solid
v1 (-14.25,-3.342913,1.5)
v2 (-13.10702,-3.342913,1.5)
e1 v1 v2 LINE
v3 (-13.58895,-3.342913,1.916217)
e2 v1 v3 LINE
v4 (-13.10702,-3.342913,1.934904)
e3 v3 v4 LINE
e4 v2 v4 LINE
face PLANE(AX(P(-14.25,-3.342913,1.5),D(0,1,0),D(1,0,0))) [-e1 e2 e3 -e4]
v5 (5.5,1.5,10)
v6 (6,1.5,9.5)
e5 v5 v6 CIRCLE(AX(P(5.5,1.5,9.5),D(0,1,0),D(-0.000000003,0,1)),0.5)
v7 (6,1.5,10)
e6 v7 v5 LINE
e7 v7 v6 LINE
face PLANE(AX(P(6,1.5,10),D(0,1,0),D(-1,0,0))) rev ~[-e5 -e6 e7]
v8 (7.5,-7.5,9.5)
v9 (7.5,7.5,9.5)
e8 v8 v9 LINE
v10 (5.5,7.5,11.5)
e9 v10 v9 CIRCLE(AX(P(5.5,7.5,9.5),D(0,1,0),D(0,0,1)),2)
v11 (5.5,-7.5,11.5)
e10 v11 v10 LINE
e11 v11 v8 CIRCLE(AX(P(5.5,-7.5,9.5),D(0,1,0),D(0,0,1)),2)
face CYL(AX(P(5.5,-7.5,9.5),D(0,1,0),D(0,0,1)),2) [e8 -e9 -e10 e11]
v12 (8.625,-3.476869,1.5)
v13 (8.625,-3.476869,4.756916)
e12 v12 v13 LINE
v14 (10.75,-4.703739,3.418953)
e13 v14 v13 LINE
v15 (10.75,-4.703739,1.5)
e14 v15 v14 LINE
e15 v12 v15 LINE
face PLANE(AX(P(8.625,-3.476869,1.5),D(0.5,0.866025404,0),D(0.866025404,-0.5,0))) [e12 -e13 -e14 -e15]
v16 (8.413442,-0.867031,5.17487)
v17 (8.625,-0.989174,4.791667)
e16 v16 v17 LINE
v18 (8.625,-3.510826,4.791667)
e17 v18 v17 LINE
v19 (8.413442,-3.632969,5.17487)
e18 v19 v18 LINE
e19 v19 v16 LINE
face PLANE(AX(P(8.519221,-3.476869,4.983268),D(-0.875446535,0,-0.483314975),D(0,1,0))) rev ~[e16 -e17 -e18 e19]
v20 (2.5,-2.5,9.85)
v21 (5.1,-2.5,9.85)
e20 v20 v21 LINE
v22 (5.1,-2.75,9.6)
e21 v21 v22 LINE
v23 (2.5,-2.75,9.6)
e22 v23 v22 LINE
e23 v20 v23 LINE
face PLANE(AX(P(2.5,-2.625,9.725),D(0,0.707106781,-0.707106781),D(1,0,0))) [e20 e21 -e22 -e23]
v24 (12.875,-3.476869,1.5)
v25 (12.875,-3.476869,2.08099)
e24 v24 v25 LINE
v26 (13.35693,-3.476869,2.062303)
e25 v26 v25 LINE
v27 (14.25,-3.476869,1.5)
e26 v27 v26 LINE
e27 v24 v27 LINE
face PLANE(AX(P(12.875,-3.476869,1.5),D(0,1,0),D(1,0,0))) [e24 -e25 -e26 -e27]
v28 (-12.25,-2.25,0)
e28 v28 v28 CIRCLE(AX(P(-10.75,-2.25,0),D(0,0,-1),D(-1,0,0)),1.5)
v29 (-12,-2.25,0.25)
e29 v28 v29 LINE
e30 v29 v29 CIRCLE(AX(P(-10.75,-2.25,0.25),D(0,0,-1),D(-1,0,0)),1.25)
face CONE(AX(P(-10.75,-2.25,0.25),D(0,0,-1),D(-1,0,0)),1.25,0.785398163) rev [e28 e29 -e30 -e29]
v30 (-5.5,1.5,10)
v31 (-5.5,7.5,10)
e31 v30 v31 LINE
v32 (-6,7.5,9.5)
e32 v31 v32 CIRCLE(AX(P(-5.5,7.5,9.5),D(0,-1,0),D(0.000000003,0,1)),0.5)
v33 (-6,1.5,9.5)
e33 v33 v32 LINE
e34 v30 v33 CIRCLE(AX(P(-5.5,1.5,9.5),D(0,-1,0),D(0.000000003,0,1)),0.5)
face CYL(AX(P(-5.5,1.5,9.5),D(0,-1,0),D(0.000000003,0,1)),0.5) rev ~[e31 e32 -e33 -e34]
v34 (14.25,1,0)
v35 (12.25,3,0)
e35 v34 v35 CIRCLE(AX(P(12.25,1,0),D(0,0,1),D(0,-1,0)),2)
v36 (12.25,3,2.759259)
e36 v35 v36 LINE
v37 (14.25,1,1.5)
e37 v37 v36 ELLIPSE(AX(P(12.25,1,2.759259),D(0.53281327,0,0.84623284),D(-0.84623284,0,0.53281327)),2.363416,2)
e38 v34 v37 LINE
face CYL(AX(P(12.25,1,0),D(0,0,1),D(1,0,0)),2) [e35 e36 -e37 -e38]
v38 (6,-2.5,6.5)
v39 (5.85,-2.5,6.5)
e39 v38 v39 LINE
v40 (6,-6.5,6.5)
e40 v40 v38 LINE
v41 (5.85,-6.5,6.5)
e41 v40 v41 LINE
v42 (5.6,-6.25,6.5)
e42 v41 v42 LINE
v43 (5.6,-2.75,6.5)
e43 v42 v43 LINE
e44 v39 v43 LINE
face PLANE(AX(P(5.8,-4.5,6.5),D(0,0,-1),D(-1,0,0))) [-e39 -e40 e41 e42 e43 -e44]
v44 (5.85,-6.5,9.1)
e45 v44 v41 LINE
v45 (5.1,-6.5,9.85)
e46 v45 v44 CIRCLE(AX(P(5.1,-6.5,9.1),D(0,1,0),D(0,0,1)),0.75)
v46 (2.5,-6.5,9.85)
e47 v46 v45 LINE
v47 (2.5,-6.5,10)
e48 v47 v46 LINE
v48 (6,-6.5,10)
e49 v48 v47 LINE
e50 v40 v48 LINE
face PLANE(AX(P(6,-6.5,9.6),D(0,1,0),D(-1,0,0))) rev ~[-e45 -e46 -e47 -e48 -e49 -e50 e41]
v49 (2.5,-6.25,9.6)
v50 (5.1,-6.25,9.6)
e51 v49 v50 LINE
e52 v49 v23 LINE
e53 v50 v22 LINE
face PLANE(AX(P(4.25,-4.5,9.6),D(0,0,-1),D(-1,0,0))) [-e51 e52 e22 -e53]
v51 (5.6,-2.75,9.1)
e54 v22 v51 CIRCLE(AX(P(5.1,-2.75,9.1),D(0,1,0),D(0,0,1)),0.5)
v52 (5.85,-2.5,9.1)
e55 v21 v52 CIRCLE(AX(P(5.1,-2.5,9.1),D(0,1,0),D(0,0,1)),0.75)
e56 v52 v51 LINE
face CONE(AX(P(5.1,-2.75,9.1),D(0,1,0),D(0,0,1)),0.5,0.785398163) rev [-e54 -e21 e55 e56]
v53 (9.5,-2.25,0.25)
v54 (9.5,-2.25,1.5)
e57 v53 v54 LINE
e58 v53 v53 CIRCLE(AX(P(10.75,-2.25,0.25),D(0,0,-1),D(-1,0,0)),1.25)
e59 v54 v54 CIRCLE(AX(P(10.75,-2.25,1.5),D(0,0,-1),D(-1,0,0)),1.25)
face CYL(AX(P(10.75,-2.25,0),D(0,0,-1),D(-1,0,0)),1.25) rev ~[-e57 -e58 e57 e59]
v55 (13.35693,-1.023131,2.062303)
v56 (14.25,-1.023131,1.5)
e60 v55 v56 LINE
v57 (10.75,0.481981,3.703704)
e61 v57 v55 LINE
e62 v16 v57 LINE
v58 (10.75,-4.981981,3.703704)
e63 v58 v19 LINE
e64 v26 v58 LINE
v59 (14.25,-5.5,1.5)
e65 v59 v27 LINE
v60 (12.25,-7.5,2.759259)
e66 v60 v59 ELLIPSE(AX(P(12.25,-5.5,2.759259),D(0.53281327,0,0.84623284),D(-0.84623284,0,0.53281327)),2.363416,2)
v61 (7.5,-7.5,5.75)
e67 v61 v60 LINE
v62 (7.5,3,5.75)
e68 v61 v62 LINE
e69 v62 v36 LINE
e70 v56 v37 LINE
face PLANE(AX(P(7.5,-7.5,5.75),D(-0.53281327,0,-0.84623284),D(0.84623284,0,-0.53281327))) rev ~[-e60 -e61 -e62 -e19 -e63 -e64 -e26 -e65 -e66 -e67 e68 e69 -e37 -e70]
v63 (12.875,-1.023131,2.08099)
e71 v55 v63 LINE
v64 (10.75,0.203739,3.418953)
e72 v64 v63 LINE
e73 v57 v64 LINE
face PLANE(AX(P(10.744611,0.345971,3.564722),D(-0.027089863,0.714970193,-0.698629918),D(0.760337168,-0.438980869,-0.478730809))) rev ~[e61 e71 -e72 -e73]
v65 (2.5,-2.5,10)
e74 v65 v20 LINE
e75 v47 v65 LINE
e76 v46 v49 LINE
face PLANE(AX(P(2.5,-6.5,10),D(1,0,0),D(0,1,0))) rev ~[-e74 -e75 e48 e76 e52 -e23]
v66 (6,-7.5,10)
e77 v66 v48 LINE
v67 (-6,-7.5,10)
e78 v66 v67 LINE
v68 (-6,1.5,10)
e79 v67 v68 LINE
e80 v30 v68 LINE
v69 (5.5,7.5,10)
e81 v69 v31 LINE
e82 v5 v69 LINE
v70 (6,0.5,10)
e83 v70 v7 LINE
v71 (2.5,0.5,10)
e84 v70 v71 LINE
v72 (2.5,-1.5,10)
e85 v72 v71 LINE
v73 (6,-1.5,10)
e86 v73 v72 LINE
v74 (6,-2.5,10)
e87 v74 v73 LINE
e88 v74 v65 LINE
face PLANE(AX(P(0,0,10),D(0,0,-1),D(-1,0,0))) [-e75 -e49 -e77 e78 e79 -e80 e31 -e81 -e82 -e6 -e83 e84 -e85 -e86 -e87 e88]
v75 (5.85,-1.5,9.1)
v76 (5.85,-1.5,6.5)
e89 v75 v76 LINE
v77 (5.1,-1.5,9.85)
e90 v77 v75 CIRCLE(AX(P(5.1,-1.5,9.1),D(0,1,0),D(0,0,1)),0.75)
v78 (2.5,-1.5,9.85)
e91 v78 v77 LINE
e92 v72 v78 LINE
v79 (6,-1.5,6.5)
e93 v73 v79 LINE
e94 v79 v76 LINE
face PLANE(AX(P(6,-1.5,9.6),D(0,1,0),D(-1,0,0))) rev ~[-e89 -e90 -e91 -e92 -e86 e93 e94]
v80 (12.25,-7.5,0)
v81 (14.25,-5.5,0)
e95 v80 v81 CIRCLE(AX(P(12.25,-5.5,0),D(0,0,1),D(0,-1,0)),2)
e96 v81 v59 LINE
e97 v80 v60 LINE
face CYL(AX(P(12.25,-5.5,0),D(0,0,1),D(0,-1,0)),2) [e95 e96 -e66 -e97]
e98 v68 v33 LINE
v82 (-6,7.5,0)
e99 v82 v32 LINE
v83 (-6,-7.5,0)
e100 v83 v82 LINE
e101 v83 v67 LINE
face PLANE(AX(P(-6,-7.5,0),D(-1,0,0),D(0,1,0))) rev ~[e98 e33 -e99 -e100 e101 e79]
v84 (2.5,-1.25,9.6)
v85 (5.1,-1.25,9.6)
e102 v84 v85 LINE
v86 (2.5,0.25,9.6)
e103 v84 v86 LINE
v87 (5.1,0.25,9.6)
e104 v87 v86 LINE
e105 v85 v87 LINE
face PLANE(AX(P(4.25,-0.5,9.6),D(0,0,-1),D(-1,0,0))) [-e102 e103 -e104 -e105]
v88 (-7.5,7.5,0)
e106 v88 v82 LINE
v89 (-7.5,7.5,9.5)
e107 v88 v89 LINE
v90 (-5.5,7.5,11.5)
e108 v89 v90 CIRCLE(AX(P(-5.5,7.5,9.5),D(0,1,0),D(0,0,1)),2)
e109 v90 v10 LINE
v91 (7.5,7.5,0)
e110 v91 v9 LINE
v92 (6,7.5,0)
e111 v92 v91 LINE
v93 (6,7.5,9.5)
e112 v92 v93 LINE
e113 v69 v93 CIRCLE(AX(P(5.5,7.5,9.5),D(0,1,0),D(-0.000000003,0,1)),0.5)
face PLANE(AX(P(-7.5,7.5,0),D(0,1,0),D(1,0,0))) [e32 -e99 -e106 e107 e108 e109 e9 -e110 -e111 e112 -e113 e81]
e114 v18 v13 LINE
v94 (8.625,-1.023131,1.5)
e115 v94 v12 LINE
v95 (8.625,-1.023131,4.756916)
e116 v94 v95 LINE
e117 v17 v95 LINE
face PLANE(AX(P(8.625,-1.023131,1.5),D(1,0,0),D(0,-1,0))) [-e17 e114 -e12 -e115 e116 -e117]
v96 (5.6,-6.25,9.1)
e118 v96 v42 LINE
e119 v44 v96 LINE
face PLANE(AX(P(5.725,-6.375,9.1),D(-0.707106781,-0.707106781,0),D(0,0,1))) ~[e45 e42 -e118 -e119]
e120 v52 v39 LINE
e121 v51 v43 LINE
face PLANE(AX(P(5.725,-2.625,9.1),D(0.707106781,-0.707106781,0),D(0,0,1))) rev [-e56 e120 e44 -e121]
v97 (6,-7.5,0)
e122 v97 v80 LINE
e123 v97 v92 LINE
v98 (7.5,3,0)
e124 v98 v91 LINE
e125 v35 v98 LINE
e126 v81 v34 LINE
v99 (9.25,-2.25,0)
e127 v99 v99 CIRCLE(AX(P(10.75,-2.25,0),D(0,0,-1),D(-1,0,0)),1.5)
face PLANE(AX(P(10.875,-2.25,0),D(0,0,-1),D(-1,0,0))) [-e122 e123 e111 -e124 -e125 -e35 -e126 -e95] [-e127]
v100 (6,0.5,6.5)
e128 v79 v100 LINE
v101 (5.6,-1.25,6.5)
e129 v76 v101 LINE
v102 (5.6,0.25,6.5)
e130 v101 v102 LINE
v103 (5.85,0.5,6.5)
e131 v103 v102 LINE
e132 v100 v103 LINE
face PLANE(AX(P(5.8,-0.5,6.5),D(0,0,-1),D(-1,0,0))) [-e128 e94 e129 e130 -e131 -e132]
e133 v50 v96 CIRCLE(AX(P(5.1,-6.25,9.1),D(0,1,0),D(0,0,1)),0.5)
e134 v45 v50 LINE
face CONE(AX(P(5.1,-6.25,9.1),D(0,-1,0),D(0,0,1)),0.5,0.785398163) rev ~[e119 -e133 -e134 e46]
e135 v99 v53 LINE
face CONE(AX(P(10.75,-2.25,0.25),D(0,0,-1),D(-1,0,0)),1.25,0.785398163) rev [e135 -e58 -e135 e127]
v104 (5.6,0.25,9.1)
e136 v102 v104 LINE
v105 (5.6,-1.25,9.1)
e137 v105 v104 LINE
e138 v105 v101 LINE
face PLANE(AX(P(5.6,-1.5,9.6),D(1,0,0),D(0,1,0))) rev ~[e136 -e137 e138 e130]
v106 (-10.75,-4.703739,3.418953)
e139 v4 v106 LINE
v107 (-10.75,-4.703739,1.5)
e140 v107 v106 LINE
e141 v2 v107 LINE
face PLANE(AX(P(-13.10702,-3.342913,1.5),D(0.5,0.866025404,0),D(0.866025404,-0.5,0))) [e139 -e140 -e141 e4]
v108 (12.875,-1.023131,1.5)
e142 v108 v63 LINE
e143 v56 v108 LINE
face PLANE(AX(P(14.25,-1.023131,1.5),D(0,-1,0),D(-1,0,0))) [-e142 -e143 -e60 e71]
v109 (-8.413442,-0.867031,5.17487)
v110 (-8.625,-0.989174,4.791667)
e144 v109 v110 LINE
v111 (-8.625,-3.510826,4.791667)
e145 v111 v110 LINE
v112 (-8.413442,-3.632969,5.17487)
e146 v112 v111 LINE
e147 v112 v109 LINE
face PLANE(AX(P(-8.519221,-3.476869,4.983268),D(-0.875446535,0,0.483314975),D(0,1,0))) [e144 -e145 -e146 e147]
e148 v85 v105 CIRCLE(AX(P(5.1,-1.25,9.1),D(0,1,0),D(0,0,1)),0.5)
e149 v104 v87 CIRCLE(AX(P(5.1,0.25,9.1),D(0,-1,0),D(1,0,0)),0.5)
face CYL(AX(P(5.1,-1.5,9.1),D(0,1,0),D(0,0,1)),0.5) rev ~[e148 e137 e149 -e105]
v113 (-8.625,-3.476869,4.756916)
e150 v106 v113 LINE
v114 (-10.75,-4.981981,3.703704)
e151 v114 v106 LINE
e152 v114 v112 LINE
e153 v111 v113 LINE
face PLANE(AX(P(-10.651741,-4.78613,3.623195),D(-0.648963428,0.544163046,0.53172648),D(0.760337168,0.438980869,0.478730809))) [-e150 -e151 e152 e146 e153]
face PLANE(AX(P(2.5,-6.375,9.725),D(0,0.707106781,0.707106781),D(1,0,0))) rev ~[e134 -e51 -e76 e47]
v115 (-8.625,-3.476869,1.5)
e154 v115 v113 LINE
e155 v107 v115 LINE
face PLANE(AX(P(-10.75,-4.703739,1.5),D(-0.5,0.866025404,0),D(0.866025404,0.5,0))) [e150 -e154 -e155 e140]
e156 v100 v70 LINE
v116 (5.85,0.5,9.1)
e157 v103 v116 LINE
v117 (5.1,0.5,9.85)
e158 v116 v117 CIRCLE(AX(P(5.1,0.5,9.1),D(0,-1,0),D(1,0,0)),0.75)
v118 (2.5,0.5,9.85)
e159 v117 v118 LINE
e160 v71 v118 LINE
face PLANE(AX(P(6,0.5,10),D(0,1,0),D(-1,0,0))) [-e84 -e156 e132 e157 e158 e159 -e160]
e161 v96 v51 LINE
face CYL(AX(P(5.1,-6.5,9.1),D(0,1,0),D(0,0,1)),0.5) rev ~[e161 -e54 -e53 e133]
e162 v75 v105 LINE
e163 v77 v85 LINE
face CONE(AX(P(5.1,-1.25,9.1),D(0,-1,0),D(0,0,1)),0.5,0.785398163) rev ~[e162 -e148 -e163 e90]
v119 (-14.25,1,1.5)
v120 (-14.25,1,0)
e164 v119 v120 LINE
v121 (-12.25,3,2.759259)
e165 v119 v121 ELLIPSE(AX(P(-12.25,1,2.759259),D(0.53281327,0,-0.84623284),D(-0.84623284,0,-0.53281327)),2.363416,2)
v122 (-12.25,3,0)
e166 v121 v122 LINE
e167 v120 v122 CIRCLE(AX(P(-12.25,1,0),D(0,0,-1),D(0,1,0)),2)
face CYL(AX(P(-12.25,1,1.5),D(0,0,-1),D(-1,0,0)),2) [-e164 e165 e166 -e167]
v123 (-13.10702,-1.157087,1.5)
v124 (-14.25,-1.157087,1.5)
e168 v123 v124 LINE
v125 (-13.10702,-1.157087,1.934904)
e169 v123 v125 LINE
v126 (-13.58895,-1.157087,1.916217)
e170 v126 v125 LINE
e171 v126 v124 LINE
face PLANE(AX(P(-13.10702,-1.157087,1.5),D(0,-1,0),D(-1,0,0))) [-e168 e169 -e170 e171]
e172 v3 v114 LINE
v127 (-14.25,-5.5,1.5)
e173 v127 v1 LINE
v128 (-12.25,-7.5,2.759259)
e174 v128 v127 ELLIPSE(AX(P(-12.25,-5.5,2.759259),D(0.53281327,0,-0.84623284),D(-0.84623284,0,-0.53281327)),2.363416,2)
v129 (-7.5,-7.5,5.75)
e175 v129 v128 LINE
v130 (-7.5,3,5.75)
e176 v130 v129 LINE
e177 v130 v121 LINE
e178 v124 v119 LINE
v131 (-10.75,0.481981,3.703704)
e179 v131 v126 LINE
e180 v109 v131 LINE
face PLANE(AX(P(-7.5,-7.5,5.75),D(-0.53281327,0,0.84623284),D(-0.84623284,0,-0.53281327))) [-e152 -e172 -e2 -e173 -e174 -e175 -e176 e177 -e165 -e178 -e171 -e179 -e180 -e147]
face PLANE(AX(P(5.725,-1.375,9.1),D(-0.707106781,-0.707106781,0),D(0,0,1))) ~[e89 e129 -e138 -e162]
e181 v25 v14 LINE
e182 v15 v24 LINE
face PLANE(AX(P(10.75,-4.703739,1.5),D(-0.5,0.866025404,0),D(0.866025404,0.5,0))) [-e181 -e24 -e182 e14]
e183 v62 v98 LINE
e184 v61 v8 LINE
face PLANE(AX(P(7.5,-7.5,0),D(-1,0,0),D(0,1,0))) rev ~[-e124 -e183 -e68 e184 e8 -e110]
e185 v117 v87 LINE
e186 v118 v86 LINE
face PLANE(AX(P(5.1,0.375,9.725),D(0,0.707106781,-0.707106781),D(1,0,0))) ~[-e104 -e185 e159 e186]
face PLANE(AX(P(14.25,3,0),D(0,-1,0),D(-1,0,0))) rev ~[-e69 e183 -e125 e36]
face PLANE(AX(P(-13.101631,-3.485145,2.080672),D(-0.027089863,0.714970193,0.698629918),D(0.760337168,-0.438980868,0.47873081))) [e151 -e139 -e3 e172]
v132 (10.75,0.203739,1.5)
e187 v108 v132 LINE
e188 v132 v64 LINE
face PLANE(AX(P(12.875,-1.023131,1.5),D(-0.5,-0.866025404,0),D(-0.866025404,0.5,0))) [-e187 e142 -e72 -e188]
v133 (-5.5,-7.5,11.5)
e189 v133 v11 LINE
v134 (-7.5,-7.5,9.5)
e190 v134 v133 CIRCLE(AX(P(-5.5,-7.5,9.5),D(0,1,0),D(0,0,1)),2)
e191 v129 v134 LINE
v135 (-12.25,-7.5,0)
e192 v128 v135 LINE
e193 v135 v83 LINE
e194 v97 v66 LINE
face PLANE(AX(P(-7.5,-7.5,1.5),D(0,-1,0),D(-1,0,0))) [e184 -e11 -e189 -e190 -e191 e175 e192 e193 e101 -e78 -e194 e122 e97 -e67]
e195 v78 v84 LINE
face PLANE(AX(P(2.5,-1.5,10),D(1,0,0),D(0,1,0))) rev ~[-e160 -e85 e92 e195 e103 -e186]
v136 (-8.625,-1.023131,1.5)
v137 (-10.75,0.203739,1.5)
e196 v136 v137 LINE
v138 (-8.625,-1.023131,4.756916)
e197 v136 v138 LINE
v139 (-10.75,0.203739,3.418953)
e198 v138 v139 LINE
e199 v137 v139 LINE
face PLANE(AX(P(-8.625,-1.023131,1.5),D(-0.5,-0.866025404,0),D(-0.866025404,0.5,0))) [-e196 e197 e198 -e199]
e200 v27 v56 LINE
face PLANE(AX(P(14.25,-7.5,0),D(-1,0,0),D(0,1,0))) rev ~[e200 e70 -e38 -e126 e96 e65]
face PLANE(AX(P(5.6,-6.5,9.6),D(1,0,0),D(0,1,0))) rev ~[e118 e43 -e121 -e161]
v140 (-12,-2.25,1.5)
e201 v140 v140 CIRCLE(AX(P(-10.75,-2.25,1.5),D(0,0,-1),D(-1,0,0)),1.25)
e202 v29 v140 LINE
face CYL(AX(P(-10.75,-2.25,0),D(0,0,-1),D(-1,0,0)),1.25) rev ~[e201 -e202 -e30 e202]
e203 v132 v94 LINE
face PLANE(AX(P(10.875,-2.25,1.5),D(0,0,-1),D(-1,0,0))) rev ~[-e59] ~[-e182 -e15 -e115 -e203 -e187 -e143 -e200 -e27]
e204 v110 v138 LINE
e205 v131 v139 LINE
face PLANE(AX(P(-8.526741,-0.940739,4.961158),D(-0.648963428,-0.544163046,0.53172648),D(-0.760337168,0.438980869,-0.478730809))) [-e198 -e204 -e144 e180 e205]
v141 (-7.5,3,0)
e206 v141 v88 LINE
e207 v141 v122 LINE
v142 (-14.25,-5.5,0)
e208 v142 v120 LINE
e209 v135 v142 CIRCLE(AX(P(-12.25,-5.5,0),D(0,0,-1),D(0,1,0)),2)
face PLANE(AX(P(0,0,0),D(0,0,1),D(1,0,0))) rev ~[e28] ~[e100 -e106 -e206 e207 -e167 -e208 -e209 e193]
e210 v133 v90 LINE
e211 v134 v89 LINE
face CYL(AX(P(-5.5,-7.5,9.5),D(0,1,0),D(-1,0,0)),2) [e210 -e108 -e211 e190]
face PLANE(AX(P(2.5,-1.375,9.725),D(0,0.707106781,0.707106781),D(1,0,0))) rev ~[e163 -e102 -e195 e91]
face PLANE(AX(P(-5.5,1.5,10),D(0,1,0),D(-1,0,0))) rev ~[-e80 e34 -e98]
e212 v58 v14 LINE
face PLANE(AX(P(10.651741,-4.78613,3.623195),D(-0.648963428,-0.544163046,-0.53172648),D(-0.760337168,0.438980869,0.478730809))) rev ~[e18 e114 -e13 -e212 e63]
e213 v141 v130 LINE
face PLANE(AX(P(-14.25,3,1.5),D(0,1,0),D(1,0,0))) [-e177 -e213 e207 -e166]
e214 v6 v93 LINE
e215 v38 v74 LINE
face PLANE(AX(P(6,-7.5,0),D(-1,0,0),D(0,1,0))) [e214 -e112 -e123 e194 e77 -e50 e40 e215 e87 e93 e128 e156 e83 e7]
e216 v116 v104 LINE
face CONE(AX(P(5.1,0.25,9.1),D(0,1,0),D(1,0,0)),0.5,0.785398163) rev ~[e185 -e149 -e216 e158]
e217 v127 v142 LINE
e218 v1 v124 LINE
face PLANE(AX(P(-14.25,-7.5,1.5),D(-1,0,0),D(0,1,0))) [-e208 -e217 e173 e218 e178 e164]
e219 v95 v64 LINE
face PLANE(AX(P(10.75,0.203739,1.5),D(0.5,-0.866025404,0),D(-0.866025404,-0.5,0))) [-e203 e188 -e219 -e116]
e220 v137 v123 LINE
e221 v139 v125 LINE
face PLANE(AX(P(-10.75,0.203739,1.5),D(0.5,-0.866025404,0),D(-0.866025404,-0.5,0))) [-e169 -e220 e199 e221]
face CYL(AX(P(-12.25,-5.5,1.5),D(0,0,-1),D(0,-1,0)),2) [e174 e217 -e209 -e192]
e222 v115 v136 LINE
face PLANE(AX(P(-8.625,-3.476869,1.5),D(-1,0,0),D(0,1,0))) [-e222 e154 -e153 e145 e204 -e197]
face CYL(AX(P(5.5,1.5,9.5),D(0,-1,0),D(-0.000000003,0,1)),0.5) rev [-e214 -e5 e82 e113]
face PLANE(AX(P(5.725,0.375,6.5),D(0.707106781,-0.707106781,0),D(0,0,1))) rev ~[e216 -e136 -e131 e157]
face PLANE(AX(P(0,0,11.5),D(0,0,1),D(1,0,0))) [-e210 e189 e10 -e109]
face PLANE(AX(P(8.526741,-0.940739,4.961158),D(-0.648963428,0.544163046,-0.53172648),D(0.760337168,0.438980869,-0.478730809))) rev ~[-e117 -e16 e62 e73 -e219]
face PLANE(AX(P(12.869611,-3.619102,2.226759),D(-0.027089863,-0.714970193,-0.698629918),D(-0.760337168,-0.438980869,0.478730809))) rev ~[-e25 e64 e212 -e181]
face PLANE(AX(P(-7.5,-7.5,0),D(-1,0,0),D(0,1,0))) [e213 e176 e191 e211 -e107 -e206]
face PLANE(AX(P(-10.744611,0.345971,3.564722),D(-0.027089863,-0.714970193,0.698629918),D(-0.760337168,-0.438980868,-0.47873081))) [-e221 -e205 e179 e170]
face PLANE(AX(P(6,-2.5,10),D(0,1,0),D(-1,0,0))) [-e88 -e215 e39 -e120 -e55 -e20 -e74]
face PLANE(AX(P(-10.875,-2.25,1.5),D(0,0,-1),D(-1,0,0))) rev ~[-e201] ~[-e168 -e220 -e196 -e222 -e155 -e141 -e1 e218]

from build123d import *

# Parameters (mm, degrees)
ESQUISSE1_W             = 15
ESQUISSE1_H             = 15
BOSS_EXTRU_1_DEPTH      = 11.5
ESQUISSE2_W             = 12
ESQUISSE2_H             = 15
ENL_V_MAT_EXTRU_1_DEPTH = 10
CONG_1_R                = 2
ESQUISSE3_W             = 0.5
ESQUISSE3_H             = 6
BOSS_EXTRU_2_DEPTH      = 0.5
ENL_V_MAT_EXTRU_2_DEPTH = 6
ESQUISSE5_W             = 3.5
ESQUISSE5_H             = 4
ESQUISSE5_H_2           = 2
BOSS_EXTRU_3_DEPTH      = 0.4
ESQUISSE6_W             = 0.4
ESQUISSE6_H             = 4
ESQUISSE6_H_2           = 2
BOSS_EXTRU_4_DEPTH      = 3.1
CONG_3_R                = 0.5
ESQUISSE7_W             = 6.75
ESQUISSE7_H             = 10.5
BOSS_EXTRU_5_DEPTH      = 1.5
ESQUISSE12_R            = 1.25
ENL_V_MAT_EXTRU_6_DEPTH = 1.5
BOSS_EXTRU_6_DEPTH      = 4.25
ENL_V_MAT_EXTRU_7_DEPTH = 10.5
CONG_5_R                = 2
CHANFREIN2_SIZE         = 0.25
CHANFREIN3_SIZE         = 0.25
CHANFREIN4_SIZE         = 0.25


with BuildPart() as part:
    # Esquisse1 → Boss.-Extru.1 (new body)
    with BuildSketch(Plane.XY):
        Rectangle(ESQUISSE1_W, ESQUISSE1_H)
    extrude(amount=BOSS_EXTRU_1_DEPTH)

    # Esquisse2 → Enlèv. mat.-Extru.1 (cut)
    with BuildSketch(Plane(origin=(0, 0, 0), x_dir=(-1, 0, 0), z_dir=(0, 0, -1))):
        Rectangle(ESQUISSE2_W, ESQUISSE2_H)
    extrude(amount=-ENL_V_MAT_EXTRU_1_DEPTH, mode=Mode.SUBTRACT)

    # Congé1
    cong_1_edges = [part.edges().sort_by_distance(p)[0] for p in [
        (-7.5, 0, 11.5),
        (7.5, 0, 11.5),
    ]]
    fillet(cong_1_edges, radius=CONG_1_R)

    # Esquisse3 → Boss.-Extru.2 (add)
    with BuildSketch(Plane(origin=(0, 0, 10), x_dir=(-1, 0, 0), z_dir=(0, 0, -1))):
        with Locations((-5.75, 4.5)):
            Rectangle(ESQUISSE3_W, ESQUISSE3_H)
        with Locations((5.75, 4.5)):
            Rectangle(ESQUISSE3_W, ESQUISSE3_H)
    extrude(amount=BOSS_EXTRU_2_DEPTH)

    # Esquisse4 → Enlèv. mat.-Extru.2 (cut)
    with BuildSketch(Plane.XZ.offset(-1.5)):
        with BuildLine():
            Line((-6, 9.5), (-5.5, 9.5))
            Line((-5.5, 9.5), (-5.5, 10))
            ThreePointArc((-5.5, 10), (-5.853553391, 9.853553391), (-6, 9.5))
        make_face()
        with BuildLine():
            Line((6, 9.5), (5.5, 9.5))
            Line((5.5, 9.5), (5.5, 10))
            ThreePointArc((5.5, 10), (5.853553391, 9.853553391), (6, 9.5))
        make_face()
    extrude(amount=-ENL_V_MAT_EXTRU_2_DEPTH, mode=Mode.SUBTRACT)

    # Esquisse5 → Boss.-Extru.3 (add)
    with BuildSketch(Plane(origin=(0, 0, 10), x_dir=(-1, 0, 0), z_dir=(0, 0, -1))):
        with Locations((-4.25, -4.5)):
            Rectangle(ESQUISSE5_W, ESQUISSE5_H)
        with Locations((-4.25, -0.5)):
            Rectangle(ESQUISSE5_W, ESQUISSE5_H_2)
    extrude(amount=BOSS_EXTRU_3_DEPTH)

    # Esquisse6 → Boss.-Extru.4 (add)
    with BuildSketch(Plane(origin=(0, 0, 9.6), x_dir=(-1, 0, 0), z_dir=(0, 0, -1))):
        with Locations((-5.8, -4.5)):
            Rectangle(ESQUISSE6_W, ESQUISSE6_H)
        with Locations((-5.8, -0.5)):
            Rectangle(ESQUISSE6_W, ESQUISSE6_H_2)
    extrude(amount=BOSS_EXTRU_4_DEPTH)

    # Congé3
    cong_3_edges = [part.edges().sort_by_distance(p)[0] for p in [
        (5.6, -4.5, 9.6),
        (5.6, -0.5, 9.6),
    ]]
    fillet(cong_3_edges, radius=CONG_3_R)

    # Esquisse7 → Boss.-Extru.5 (add)
    with BuildSketch(Plane(origin=(0, 0, 0), x_dir=(-1, 0, 0), z_dir=(0, 0, -1))):
        with Locations((-10.875, -2.25)):
            Rectangle(ESQUISSE7_W, ESQUISSE7_H)
        with Locations((10.875, -2.25)):
            Rectangle(ESQUISSE7_W, ESQUISSE7_H)
    extrude(amount=-BOSS_EXTRU_5_DEPTH)

    # Esquisse12 → Enlèv. mat.-Extru.6 (cut)
    with BuildSketch(Plane(origin=(0, 0, 0), x_dir=(-1, 0, 0), z_dir=(0, 0, -1))):
        with Locations((10.75, -2.25)):
            Circle(ESQUISSE12_R)
        with Locations((-10.75, -2.25)):
            Circle(ESQUISSE12_R)
    extrude(amount=-ENL_V_MAT_EXTRU_6_DEPTH, mode=Mode.SUBTRACT)

    # Esquisse13 → Boss.-Extru.6 (add)
    with BuildSketch(Plane.XY.offset(1.5)):
        Polygon((-7.5, 3), (-7.5, -7.5), (-14.25, -7.5), (-14.25, -3.342912687), (-13.107019699, -3.342912687), (-10.75, -4.703738644), (-8.625, -3.476869322), (-8.625, -1.023130678), (-10.75, 0.203738644), (-13.107019699, -1.157087313), (-14.25, -1.157087313), (-14.25, 3), align=None)
        Polygon((7.5, -7.5), (7.5, 3), (14.25, 3), (14.25, -1.023130678), (12.875, -1.023130678), (10.75, 0.203738644), (8.625, -1.023130678), (8.625, -3.476869322), (10.75, -4.703738644), (12.875, -3.476869322), (14.25, -3.476869322), (14.25, -7.5), align=None)
    extrude(amount=BOSS_EXTRU_6_DEPTH)

    # Esquisse14 → Enlèv. mat.-Extru.7 (cut)
    with BuildSketch(Plane.XZ.offset(7.5)):
        Polygon((-7.5, 5.75), (-14.25, 1.5), (-14.25, 5.75), align=None)
        Polygon((7.5, 5.75), (14.25, 1.5), (14.25, 5.75), align=None)
    extrude(amount=-ENL_V_MAT_EXTRU_7_DEPTH, mode=Mode.SUBTRACT)

    # Congé5
    cong_5_edges = [part.edges().sort_by_distance(p)[0] for p in [
        (-14.25, -7.5, 0.75),
        (-14.25, 3, 0.75),
        (14.25, 3, 0.75),
        (14.25, -7.5, 0.75),
    ]]
    fillet(cong_5_edges, radius=CONG_5_R)

    # Chanfrein2
    chanfrein2_edges = [part.edges().sort_by_distance(p)[0] for p in [
        (-11.928509849, -4.023325665, 2.961678984),
        (-9.6875, -4.090303983, 4.372685185),
        (-8.625, -2.25, 5.041666667),
        (-9.6875, -0.409696017, 4.372685185),
        (-11.928509849, -0.476674335, 2.961678984),
        (11.8125, -0.409696017, 3.034722222),
        (9.6875, -0.409696017, 4.372685185),
        (8.625, -2.25, 5.041666667),
        (9.6875, -4.090303983, 4.372685185),
        (11.8125, -4.090303983, 3.034722222),
    ]]
    chamfer(chanfrein2_edges, length=CHANFREIN2_SIZE)

    # Chanfrein3
    chanfrein3_edges = [part.edges().sort_by_distance(p)[0] for p in [
        (-9.5, -2.25, 0),
        (12, -2.25, 0),
    ]]
    chamfer(chanfrein3_edges, length=CHANFREIN3_SIZE)

    # Chanfrein4
    chanfrein4_edges = [part.edges().sort_by_distance(p)[0] for p in [
        (3.8, 0.5, 9.6),
        (5.6, -6.5, 7.8),
        (5.6, -2.5, 7.8),
        (5.6, -1.5, 7.8),
        (5.6, 0.5, 7.8),
        (3.8, -1.5, 9.6),
        (3.8, -6.5, 9.6),
        (5.453553391, 0.5, 9.453553391),
        (5.453553391, -1.5, 9.453553391),
        (5.453553391, -2.5, 9.453553391),
        (5.453553391, -6.5, 9.453553391),
        (3.8, -2.5, 9.6),
    ]]
    chamfer(chanfrein4_edges, length=CHANFREIN4_SIZE)


solid = part.part
